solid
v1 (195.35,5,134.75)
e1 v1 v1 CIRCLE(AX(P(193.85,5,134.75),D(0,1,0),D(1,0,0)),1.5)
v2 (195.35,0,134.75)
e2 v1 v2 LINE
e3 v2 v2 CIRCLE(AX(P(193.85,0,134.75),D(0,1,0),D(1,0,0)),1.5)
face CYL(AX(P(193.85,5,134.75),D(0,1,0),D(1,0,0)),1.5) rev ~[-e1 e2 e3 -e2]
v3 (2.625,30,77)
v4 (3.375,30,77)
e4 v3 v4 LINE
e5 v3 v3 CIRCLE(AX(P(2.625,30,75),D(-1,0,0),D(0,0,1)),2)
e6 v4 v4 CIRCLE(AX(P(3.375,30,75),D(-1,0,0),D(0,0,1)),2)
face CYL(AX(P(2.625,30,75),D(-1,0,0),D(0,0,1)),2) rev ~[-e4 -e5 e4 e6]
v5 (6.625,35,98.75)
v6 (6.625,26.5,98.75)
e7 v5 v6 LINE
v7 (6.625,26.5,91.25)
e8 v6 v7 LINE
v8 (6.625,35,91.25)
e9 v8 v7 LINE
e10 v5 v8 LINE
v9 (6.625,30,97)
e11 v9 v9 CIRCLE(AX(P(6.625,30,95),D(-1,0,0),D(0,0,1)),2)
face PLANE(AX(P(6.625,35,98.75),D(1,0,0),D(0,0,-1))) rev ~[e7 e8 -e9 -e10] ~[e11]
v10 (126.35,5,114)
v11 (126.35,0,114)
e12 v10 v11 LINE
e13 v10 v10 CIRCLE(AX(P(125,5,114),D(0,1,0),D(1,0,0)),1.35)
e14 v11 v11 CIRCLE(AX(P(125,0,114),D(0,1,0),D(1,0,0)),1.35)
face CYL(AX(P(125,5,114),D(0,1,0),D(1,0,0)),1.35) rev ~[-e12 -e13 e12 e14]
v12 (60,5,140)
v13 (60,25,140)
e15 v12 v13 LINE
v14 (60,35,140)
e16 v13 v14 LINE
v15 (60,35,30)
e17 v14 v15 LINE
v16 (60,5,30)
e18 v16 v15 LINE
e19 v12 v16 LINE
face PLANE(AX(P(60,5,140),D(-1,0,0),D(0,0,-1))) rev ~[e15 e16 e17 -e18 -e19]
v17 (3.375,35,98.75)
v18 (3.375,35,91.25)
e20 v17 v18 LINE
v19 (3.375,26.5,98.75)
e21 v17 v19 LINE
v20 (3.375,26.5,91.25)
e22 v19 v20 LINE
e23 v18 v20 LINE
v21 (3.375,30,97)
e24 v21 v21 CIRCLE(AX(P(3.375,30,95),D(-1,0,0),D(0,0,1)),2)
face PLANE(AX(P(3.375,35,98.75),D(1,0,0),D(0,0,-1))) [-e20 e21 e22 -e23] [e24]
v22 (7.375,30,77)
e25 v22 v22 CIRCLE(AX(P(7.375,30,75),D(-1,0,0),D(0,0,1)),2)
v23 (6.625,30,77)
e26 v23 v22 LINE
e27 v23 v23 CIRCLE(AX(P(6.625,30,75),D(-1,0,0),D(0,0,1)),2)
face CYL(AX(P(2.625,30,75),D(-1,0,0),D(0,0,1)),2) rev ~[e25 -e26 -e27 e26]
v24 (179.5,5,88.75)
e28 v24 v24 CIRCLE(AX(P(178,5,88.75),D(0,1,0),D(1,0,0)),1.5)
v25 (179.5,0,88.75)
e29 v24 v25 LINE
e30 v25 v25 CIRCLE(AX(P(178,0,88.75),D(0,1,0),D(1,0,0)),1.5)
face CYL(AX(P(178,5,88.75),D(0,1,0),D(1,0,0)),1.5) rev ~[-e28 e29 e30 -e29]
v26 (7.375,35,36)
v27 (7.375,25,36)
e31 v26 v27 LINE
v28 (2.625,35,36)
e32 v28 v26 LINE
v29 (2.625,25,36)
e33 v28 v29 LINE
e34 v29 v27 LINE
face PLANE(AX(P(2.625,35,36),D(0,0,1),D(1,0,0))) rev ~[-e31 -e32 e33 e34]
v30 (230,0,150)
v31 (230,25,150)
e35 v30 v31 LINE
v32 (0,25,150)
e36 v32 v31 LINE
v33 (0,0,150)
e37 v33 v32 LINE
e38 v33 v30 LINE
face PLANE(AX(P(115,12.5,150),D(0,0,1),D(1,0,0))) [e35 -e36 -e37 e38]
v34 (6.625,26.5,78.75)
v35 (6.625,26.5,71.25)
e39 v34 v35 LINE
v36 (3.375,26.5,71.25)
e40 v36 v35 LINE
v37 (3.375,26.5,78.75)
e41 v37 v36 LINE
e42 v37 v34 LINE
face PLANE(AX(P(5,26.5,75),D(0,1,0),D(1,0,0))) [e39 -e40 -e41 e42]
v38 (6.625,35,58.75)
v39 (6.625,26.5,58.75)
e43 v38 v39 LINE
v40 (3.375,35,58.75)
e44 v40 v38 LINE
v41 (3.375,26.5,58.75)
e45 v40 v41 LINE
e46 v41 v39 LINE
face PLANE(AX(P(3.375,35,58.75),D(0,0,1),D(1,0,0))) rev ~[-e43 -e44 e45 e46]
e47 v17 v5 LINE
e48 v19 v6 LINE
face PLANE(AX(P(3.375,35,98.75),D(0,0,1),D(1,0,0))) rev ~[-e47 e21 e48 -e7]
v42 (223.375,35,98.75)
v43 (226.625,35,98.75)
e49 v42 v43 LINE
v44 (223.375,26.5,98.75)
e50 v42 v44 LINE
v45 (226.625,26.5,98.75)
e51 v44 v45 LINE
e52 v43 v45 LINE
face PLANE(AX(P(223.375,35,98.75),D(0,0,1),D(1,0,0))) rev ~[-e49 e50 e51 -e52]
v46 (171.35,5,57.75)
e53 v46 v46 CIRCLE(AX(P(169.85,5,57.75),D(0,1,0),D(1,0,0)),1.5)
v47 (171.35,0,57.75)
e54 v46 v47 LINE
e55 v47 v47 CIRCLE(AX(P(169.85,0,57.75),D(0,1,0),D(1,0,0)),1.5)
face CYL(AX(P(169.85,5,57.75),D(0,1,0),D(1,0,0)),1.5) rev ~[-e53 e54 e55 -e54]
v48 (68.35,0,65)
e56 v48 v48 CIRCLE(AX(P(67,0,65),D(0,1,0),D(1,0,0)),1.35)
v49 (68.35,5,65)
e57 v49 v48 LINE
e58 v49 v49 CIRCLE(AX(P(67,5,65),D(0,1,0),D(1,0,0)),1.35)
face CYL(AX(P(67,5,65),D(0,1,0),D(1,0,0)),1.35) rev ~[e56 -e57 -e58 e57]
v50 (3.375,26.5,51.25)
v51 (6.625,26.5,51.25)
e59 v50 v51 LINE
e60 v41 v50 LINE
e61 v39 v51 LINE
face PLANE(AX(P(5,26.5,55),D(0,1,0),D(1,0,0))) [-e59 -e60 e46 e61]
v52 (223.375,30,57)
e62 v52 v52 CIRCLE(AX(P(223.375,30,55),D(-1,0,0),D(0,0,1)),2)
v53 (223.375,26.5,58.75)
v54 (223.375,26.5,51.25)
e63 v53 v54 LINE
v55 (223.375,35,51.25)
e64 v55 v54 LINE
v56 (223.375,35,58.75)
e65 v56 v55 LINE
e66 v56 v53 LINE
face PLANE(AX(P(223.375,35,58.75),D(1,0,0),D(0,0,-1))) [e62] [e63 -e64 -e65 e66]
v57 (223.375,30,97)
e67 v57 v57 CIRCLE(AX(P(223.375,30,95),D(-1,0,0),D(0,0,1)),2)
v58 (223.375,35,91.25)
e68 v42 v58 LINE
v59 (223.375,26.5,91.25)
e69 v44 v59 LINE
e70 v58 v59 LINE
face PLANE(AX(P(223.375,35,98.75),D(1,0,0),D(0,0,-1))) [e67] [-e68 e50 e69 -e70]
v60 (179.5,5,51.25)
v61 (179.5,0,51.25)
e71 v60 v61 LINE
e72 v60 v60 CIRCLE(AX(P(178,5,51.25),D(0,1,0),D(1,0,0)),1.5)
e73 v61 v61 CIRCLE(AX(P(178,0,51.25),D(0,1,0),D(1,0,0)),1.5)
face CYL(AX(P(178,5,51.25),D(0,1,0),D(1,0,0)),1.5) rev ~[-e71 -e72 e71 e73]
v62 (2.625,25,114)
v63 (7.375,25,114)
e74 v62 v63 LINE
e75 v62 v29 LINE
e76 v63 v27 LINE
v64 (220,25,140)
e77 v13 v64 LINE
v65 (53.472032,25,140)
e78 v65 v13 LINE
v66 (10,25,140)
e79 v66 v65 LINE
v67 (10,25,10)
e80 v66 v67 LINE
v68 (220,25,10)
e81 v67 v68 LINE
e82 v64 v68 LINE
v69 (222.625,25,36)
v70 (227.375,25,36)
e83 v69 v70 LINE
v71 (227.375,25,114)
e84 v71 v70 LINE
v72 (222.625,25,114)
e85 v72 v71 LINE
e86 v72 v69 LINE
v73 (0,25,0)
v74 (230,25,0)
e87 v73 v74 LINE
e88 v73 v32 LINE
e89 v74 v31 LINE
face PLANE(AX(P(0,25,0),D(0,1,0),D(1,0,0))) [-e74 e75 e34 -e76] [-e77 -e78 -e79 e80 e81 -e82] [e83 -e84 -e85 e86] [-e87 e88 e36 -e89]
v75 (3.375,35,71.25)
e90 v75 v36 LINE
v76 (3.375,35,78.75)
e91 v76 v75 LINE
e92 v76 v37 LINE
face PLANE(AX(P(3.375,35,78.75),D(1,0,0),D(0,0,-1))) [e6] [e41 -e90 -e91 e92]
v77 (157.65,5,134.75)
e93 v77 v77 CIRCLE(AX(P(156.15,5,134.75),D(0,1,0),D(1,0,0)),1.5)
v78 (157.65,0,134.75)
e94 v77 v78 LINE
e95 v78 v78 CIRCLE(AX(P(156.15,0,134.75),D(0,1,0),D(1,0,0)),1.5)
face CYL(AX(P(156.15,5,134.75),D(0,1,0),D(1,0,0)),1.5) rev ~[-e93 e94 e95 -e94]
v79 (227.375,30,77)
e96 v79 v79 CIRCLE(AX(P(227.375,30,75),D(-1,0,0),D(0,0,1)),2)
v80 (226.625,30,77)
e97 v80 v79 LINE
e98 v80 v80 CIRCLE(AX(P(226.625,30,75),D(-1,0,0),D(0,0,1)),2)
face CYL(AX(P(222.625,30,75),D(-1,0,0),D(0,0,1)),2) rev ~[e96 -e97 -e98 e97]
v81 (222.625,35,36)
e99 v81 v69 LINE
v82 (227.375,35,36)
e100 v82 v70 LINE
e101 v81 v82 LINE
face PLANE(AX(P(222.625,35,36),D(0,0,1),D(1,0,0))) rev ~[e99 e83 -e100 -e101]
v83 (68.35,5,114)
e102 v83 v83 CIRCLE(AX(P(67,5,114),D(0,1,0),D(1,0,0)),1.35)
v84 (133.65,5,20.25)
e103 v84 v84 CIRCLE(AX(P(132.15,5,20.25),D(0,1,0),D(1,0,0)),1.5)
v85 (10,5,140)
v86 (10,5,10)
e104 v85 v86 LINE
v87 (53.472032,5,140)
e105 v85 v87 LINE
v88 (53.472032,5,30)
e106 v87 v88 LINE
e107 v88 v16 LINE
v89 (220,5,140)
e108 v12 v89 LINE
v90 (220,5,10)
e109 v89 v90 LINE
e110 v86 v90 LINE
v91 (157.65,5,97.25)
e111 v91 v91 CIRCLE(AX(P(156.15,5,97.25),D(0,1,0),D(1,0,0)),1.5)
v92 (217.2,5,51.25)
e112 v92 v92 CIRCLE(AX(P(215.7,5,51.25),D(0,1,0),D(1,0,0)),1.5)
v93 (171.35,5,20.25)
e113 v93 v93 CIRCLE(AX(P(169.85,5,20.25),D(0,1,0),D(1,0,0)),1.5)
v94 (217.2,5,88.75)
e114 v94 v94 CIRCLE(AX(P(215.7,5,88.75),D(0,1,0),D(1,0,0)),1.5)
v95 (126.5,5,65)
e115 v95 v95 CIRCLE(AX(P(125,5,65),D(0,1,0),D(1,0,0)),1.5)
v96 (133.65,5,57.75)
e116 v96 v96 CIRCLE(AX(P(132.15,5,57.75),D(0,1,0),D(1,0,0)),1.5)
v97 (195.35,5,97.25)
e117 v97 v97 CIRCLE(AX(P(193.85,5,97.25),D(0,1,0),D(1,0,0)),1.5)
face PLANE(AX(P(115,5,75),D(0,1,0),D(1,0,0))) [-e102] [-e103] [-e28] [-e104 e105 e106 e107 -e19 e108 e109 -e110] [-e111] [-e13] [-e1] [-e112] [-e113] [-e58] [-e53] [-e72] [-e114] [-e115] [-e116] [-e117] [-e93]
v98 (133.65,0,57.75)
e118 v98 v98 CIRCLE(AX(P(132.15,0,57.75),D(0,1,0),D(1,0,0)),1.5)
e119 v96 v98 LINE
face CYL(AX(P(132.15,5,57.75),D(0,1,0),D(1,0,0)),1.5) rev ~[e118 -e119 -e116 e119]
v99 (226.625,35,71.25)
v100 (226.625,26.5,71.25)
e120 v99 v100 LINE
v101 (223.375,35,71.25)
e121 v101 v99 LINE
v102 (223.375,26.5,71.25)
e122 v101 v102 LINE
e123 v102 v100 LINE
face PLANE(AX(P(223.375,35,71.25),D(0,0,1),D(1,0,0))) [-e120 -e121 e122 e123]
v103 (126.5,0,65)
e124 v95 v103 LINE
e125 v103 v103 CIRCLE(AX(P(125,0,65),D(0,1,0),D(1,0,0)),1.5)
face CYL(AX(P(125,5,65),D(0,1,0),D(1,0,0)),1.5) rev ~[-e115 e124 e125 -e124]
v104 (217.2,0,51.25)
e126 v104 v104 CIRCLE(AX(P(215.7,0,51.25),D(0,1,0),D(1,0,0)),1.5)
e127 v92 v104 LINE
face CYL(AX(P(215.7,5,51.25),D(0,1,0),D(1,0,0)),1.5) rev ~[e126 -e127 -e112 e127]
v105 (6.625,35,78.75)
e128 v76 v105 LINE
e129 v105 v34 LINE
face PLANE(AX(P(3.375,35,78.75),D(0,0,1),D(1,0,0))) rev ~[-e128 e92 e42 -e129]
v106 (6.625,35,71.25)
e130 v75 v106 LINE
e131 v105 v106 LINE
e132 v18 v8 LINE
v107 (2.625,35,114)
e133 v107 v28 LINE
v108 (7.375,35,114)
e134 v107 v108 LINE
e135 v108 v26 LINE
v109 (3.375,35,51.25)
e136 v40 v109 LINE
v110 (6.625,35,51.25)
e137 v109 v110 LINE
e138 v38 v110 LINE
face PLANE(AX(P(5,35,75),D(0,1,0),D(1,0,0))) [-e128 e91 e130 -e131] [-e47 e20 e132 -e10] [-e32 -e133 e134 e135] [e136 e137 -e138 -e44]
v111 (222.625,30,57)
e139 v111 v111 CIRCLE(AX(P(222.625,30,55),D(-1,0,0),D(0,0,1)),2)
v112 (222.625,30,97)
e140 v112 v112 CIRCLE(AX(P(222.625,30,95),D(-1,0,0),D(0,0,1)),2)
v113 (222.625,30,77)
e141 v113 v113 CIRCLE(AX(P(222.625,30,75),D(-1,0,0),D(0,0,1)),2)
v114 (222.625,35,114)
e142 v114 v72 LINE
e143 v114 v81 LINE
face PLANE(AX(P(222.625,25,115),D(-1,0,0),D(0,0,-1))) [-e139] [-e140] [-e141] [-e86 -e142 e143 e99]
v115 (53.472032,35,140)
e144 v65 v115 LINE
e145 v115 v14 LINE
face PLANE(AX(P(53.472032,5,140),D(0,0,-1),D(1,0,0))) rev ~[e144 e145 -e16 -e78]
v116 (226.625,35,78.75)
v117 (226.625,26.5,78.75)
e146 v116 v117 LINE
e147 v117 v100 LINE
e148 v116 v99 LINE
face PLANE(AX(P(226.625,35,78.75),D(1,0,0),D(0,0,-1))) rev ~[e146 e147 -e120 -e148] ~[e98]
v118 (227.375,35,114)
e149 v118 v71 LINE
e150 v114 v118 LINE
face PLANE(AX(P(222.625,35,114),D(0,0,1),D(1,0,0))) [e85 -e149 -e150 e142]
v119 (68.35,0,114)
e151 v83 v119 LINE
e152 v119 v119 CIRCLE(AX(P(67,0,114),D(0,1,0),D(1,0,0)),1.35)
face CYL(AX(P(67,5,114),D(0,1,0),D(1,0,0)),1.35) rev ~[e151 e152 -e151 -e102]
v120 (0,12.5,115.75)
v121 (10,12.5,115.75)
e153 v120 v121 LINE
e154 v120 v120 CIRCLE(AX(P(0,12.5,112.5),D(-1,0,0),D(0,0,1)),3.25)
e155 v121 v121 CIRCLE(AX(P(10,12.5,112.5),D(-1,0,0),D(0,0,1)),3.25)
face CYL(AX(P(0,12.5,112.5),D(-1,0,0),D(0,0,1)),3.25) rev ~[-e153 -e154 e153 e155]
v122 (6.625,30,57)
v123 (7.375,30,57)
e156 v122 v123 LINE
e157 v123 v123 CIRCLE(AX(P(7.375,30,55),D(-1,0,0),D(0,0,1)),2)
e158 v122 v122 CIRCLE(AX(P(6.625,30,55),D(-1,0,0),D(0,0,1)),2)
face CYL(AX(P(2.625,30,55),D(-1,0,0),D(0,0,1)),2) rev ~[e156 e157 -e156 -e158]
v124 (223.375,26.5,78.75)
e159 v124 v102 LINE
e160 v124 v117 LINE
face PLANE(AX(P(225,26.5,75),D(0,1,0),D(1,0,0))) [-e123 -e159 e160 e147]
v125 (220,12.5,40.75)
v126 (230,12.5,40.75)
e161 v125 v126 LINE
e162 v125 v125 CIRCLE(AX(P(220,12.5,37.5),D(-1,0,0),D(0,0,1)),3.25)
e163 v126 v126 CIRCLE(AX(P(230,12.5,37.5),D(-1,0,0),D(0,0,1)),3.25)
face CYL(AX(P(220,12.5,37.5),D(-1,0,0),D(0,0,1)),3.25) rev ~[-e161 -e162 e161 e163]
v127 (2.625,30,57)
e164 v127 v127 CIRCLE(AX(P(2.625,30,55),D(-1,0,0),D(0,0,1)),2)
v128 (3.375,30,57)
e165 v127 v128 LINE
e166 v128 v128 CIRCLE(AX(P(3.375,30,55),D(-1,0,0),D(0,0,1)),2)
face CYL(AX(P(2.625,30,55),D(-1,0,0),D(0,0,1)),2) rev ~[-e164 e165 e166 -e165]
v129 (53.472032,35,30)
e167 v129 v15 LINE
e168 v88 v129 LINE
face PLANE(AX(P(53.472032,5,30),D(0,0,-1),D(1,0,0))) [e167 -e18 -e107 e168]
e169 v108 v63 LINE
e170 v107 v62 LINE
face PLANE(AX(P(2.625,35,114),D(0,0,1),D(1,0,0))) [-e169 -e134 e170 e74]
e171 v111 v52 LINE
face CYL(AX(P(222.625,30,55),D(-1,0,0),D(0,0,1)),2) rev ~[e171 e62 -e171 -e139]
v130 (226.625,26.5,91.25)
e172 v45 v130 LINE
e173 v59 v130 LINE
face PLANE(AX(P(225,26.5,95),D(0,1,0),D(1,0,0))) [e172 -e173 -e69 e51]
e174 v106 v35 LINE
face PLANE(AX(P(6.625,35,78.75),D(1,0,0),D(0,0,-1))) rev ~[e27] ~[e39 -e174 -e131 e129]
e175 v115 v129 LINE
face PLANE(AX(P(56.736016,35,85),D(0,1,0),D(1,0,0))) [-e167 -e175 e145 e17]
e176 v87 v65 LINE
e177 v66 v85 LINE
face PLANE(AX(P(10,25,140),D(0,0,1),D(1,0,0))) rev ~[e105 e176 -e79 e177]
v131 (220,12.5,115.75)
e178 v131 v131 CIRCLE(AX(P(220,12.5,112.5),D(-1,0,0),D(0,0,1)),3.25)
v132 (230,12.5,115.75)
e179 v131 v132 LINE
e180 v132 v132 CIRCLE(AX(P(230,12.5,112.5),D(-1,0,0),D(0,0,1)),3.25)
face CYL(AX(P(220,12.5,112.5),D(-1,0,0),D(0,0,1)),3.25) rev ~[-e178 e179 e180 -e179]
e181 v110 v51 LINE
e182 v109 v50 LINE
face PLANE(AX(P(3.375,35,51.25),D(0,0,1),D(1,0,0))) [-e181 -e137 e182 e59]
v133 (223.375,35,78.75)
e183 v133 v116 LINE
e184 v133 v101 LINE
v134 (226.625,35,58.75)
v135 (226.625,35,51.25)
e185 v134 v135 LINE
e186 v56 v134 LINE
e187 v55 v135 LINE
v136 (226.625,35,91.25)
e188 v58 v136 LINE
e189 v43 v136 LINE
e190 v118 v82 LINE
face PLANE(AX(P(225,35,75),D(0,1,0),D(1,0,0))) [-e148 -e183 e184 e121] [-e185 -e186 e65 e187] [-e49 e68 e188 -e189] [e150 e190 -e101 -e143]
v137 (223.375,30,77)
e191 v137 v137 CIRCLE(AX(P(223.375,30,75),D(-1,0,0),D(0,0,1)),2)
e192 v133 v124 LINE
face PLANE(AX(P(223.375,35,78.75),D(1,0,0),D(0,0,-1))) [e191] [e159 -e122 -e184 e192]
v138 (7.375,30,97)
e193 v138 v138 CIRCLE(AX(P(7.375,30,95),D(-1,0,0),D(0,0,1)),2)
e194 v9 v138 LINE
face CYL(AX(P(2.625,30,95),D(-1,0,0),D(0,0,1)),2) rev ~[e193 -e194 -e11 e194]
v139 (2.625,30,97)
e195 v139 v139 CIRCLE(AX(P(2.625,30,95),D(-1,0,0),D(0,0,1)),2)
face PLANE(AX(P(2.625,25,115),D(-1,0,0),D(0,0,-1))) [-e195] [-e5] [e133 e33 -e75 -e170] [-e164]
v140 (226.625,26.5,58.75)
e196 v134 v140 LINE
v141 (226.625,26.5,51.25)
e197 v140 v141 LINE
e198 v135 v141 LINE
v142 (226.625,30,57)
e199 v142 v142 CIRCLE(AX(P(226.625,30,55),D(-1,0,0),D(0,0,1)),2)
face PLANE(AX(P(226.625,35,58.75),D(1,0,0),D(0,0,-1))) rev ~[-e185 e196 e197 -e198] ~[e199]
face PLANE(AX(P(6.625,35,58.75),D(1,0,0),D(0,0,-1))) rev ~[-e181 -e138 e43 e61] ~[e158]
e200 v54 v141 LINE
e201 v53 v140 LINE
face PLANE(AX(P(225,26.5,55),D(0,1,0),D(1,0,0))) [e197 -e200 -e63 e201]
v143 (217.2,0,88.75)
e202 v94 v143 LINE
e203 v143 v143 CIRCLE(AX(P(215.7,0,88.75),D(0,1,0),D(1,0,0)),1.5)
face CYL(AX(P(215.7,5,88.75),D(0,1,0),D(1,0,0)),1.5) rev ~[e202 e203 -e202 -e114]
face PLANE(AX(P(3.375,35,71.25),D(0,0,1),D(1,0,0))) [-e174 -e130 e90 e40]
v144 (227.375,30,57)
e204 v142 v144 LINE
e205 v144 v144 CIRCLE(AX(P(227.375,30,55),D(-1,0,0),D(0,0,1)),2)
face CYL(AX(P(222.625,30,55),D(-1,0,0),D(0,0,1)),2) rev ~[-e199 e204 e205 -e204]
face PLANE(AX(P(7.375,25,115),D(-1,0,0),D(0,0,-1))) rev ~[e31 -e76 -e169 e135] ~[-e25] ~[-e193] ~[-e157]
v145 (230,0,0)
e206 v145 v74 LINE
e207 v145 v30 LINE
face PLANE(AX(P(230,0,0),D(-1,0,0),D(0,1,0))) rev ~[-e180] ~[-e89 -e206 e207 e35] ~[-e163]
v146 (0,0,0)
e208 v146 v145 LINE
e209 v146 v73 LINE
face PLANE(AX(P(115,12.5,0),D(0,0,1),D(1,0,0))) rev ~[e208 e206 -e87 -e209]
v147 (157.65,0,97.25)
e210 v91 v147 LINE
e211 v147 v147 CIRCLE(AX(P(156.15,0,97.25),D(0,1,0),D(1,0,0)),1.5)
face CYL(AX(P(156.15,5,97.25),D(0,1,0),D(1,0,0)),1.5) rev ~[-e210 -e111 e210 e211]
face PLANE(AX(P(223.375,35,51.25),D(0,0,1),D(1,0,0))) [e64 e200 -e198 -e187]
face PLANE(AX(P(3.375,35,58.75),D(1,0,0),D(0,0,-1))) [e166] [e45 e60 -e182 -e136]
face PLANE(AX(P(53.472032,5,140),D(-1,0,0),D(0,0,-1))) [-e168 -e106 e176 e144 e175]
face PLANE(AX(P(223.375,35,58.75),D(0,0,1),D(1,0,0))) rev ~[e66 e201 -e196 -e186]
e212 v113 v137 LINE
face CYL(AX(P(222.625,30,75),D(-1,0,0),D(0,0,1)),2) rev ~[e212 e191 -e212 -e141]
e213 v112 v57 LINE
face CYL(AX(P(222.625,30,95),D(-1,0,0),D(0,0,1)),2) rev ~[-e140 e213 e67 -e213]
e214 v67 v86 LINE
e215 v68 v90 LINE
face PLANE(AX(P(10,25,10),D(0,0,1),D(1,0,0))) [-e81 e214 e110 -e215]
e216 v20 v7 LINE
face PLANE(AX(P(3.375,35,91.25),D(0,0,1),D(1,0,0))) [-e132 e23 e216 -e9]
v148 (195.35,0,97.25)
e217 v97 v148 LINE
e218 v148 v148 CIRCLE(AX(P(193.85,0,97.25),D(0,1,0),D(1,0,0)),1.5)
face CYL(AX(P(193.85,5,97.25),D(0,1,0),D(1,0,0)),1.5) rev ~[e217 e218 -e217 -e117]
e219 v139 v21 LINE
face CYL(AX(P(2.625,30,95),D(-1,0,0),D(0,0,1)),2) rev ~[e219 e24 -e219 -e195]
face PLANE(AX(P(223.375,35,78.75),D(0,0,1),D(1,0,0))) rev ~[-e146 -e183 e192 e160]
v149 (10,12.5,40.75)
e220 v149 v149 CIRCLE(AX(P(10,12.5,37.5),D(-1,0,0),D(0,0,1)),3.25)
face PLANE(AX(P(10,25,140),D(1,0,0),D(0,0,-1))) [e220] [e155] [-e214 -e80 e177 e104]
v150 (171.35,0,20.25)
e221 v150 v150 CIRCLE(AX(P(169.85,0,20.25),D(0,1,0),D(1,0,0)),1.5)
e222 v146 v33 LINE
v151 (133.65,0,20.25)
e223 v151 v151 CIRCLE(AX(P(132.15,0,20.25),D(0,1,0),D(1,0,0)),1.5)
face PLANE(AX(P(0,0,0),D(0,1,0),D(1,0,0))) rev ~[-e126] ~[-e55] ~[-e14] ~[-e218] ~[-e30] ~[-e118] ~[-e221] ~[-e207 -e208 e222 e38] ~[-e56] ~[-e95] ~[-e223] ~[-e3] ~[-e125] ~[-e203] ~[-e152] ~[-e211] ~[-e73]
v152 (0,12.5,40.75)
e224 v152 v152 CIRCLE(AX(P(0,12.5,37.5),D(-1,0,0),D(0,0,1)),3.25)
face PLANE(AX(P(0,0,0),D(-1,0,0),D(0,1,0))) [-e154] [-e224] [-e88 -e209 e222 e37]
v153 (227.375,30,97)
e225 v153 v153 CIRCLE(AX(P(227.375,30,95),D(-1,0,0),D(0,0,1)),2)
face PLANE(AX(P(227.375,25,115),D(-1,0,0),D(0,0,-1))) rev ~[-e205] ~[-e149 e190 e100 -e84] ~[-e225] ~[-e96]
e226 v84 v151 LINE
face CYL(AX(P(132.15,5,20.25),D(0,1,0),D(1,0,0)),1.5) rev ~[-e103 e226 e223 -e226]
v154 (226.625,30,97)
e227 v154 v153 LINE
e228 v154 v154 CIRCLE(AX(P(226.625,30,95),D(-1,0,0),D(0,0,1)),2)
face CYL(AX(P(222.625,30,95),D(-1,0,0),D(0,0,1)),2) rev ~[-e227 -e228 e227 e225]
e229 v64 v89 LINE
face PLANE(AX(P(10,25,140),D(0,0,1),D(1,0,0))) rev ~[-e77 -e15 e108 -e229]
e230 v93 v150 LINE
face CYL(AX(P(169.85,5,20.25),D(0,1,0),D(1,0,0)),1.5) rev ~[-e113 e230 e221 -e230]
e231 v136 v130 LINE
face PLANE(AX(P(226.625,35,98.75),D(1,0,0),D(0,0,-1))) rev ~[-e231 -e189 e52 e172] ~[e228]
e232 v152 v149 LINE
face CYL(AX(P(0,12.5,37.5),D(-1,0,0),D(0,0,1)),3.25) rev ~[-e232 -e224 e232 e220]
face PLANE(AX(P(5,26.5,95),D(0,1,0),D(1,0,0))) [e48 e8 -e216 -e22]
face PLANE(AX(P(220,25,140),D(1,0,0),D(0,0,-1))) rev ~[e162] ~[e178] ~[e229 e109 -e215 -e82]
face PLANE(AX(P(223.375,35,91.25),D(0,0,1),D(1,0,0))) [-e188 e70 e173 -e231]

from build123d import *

# Parameters (mm, degrees)
SKETCH1_W           = 230
SKETCH1_H           = 25
BOSS_EXTRUDE1_DEPTH = 150
SKETCH2_W           = 210
SKETCH2_H           = 130
CUT_EXTRUDE1_DEPTH  = 20
SKETCH4_W           = 6.527967864
SKETCH4_H           = 110
BOSS_EXTRUDE3_DEPTH = 30
CUT_EXTRUDE2_REACH  = 7
SKETCH5_R           = 1.35
SKETCH5_R_2         = 1.5
SKETCH6_R           = 1.5
CUT_EXTRUDE3_DEPTH  = 6
CUT_EXTRUDE4_REACH  = 232
SKETCH7_R           = 3.25
CUT_EXTRUDE5_REACH  = 12
SKETCH8_R           = 3.25
SKETCH9_W           = 4.75
SKETCH9_H           = 80
BOSS_EXTRUDE4_DEPTH = 10
SKETCH10_R          = 2
CUT_EXTRUDE6_DEPTH  = 10
SKETCH11_R          = 2
CUT_EXTRUDE7_DEPTH  = 10
SKETCH12_W          = 3.25
SKETCH12_H          = 7.5
CUT_EXTRUDE8_DEPTH  = 8.5
SKETCH13_W          = 4.75
SKETCH13_H          = 1
CUT_EXTRUDE9_DEPTH  = 10


with BuildPart() as part:
    # Sketch1 → Boss-Extrude1 (new body)
    with BuildSketch(Plane.XY):
        with Locations((115, 12.5)):
            Rectangle(SKETCH1_W, SKETCH1_H)
    extrude(amount=BOSS_EXTRUDE1_DEPTH)

    # Sketch2 → Cut-Extrude1 (cut)
    with BuildSketch(Plane(origin=(0, 25, 0), x_dir=(1, 0, 0), z_dir=(0, 1, 0))):
        with Locations((115, -75)):
            Rectangle(SKETCH2_W, SKETCH2_H)
    extrude(amount=-CUT_EXTRUDE1_DEPTH, mode=Mode.SUBTRACT)

    # Sketch4 → Boss-Extrude3 (add)
    with BuildSketch(Plane(origin=(0, 5, 0), x_dir=(1, 0, 0), z_dir=(0, 1, 0))):
        with Locations((56.736016068, -85)):
            Rectangle(SKETCH4_W, SKETCH4_H)
    extrude(amount=BOSS_EXTRUDE3_DEPTH)

    # Sketch5 → Cut-Extrude2 (cut, up to next)
    with BuildSketch(Plane(origin=(0, 5, 0), x_dir=(1, 0, 0), z_dir=(0, 1, 0)), mode=Mode.PRIVATE) as cut_extrude2_sk1:
        with Locations((67, -65)):
            Circle(SKETCH5_R)
    cut_extrude2_tool1 = extrude(cut_extrude2_sk1.sketch, amount=-CUT_EXTRUDE2_REACH, mode=Mode.PRIVATE) & part.part
    add(cut_extrude2_tool1.solids().sort_by_distance((67, 5, 65))[0], mode=Mode.SUBTRACT)
    # Sketch5 → Cut-Extrude2 (cut, up to next)
    with BuildSketch(Plane(origin=(0, 5, 0), x_dir=(1, 0, 0), z_dir=(0, 1, 0)), mode=Mode.PRIVATE) as cut_extrude2_sk2:
        with Locations((67, -114)):
            Circle(SKETCH5_R)
    cut_extrude2_tool2 = extrude(cut_extrude2_sk2.sketch, amount=-CUT_EXTRUDE2_REACH, mode=Mode.PRIVATE) & part.part
    add(cut_extrude2_tool2.solids().sort_by_distance((67, 5, 114))[0], mode=Mode.SUBTRACT)
    # Sketch5 → Cut-Extrude2 (cut, up to next)
    with BuildSketch(Plane(origin=(0, 5, 0), x_dir=(1, 0, 0), z_dir=(0, 1, 0)), mode=Mode.PRIVATE) as cut_extrude2_sk3:
        with Locations((125, -65)):
            Circle(SKETCH5_R_2)
    cut_extrude2_tool3 = extrude(cut_extrude2_sk3.sketch, amount=-CUT_EXTRUDE2_REACH, mode=Mode.PRIVATE) & part.part
    add(cut_extrude2_tool3.solids().sort_by_distance((125, 5, 65))[0], mode=Mode.SUBTRACT)
    # Sketch5 → Cut-Extrude2 (cut, up to next)
    with BuildSketch(Plane(origin=(0, 5, 0), x_dir=(1, 0, 0), z_dir=(0, 1, 0)), mode=Mode.PRIVATE) as cut_extrude2_sk4:
        with Locations((125, -114)):
            Circle(SKETCH5_R)
    cut_extrude2_tool4 = extrude(cut_extrude2_sk4.sketch, amount=-CUT_EXTRUDE2_REACH, mode=Mode.PRIVATE) & part.part
    add(cut_extrude2_tool4.solids().sort_by_distance((125, 5, 114))[0], mode=Mode.SUBTRACT)

    # Sketch6 → Cut-Extrude3 (cut, through all)
    with BuildSketch(Plane(origin=(0, 5, 0), x_dir=(1, 0, 0), z_dir=(0, 1, 0))):
        with Locations((132.15, -20.25)):
            Circle(SKETCH6_R)
        with Locations((169.85, -20.25)):
            Circle(SKETCH6_R)
        with Locations((169.85, -57.75)):
            Circle(SKETCH6_R)
        with Locations((132.15, -57.75)):
            Circle(SKETCH6_R)
        with Locations((178, -51.25)):
            Circle(SKETCH6_R)
        with Locations((215.7, -51.25)):
            Circle(SKETCH6_R)
        with Locations((215.7, -88.75)):
            Circle(SKETCH6_R)
        with Locations((178, -88.75)):
            Circle(SKETCH6_R)
        with Locations((156.15, -97.25)):
            Circle(SKETCH6_R)
        with Locations((193.85, -97.25)):
            Circle(SKETCH6_R)
        with Locations((193.85, -134.75)):
            Circle(SKETCH6_R)
        with Locations((156.15, -134.75)):
            Circle(SKETCH6_R)
    extrude(amount=-CUT_EXTRUDE3_DEPTH, mode=Mode.SUBTRACT)

    # Sketch7 → Cut-Extrude4 (cut, up to next)
    with BuildSketch(Plane.ZY, mode=Mode.PRIVATE) as cut_extrude4_sk1:
        with Locations((37.5, 12.5)):
            Circle(SKETCH7_R)
    cut_extrude4_tool1 = extrude(cut_extrude4_sk1.sketch, amount=-CUT_EXTRUDE4_REACH, mode=Mode.PRIVATE) & part.part
    add(cut_extrude4_tool1.solids().sort_by_distance((0, 12.5, 37.5))[0], mode=Mode.SUBTRACT)
    # Sketch7 → Cut-Extrude4 (cut, up to next)
    with BuildSketch(Plane.ZY, mode=Mode.PRIVATE) as cut_extrude4_sk2:
        with Locations((112.5, 12.5)):
            Circle(SKETCH7_R)
    cut_extrude4_tool2 = extrude(cut_extrude4_sk2.sketch, amount=-CUT_EXTRUDE4_REACH, mode=Mode.PRIVATE) & part.part
    add(cut_extrude4_tool2.solids().sort_by_distance((0, 12.5, 112.5))[0], mode=Mode.SUBTRACT)

    # Sketch8 → Cut-Extrude5 (cut, up to next)
    with BuildSketch(Plane.ZY.offset(-220), mode=Mode.PRIVATE) as cut_extrude5_sk1:
        with Locations((112.5, 12.5)):
            Circle(SKETCH8_R)
    cut_extrude5_tool1 = extrude(cut_extrude5_sk1.sketch, amount=-CUT_EXTRUDE5_REACH, mode=Mode.PRIVATE) & part.part
    add(cut_extrude5_tool1.solids().sort_by_distance((220, 12.5, 112.5))[0], mode=Mode.SUBTRACT)
    # Sketch8 → Cut-Extrude5 (cut, up to next)
    with BuildSketch(Plane.ZY.offset(-220), mode=Mode.PRIVATE) as cut_extrude5_sk2:
        with Locations((37.5, 12.5)):
            Circle(SKETCH8_R)
    cut_extrude5_tool2 = extrude(cut_extrude5_sk2.sketch, amount=-CUT_EXTRUDE5_REACH, mode=Mode.PRIVATE) & part.part
    add(cut_extrude5_tool2.solids().sort_by_distance((220, 12.5, 37.5))[0], mode=Mode.SUBTRACT)

    # Sketch9 → Boss-Extrude4 (add)
    with BuildSketch(Plane(origin=(0, 25, 0), x_dir=(1, 0, 0), z_dir=(0, 1, 0))):
        with Locations((5, -75)):
            Rectangle(SKETCH9_W, SKETCH9_H)
        with Locations((225, -75)):
            Rectangle(SKETCH9_W, SKETCH9_H)
    extrude(amount=BOSS_EXTRUDE4_DEPTH)

    # Sketch10 → Cut-Extrude6 (cut)
    with BuildSketch(Plane.ZY.offset(-2.625)):
        with Locations((55, 30)):
            Circle(SKETCH10_R)
        with Locations((75, 30)):
            Circle(SKETCH10_R)
        with Locations((95, 30)):
            Circle(SKETCH10_R)
    extrude(amount=-CUT_EXTRUDE6_DEPTH, mode=Mode.SUBTRACT)

    # Sketch11 → Cut-Extrude7 (cut)
    with BuildSketch(Plane.ZY.offset(-222.625)):
        with Locations((95, 30)):
            Circle(SKETCH11_R)
        with Locations((75, 30)):
            Circle(SKETCH11_R)
        with Locations((55, 30)):
            Circle(SKETCH11_R)
    extrude(amount=-CUT_EXTRUDE7_DEPTH, mode=Mode.SUBTRACT)

    # Sketch12 → Cut-Extrude8 (cut)
    with BuildSketch(Plane(origin=(0, 35, 0), x_dir=(1, 0, 0), z_dir=(0, 1, 0))):
        with Locations((5, -75)):
            Rectangle(SKETCH12_W, SKETCH12_H)
        with Locations((5, -95)):
            Rectangle(SKETCH12_W, SKETCH12_H)
        with Locations((5, -55)):
            Rectangle(SKETCH12_W, SKETCH12_H)
        with Locations((225, -95)):
            Rectangle(SKETCH12_W, SKETCH12_H)
        with Locations((225, -75)):
            Rectangle(SKETCH12_W, SKETCH12_H)
        with Locations((225, -55)):
            Rectangle(SKETCH12_W, SKETCH12_H)
    extrude(amount=-CUT_EXTRUDE8_DEPTH, mode=Mode.SUBTRACT)

    # Sketch13 → Cut-Extrude9 (cut)
    with BuildSketch(Plane(origin=(0, 35, 0), x_dir=(1, 0, 0), z_dir=(0, 1, 0))):
        with Locations((225, -35.5)):
            Rectangle(SKETCH13_W, SKETCH13_H)
        with Locations((225, -114.5)):
            Rectangle(SKETCH13_W, SKETCH13_H)
        with Locations((5, -35.5)):
            Rectangle(SKETCH13_W, SKETCH13_H)
        with Locations((5, -114.5)):
            Rectangle(SKETCH13_W, SKETCH13_H)
    extrude(amount=-CUT_EXTRUDE9_DEPTH, mode=Mode.SUBTRACT)


solid = part.part
